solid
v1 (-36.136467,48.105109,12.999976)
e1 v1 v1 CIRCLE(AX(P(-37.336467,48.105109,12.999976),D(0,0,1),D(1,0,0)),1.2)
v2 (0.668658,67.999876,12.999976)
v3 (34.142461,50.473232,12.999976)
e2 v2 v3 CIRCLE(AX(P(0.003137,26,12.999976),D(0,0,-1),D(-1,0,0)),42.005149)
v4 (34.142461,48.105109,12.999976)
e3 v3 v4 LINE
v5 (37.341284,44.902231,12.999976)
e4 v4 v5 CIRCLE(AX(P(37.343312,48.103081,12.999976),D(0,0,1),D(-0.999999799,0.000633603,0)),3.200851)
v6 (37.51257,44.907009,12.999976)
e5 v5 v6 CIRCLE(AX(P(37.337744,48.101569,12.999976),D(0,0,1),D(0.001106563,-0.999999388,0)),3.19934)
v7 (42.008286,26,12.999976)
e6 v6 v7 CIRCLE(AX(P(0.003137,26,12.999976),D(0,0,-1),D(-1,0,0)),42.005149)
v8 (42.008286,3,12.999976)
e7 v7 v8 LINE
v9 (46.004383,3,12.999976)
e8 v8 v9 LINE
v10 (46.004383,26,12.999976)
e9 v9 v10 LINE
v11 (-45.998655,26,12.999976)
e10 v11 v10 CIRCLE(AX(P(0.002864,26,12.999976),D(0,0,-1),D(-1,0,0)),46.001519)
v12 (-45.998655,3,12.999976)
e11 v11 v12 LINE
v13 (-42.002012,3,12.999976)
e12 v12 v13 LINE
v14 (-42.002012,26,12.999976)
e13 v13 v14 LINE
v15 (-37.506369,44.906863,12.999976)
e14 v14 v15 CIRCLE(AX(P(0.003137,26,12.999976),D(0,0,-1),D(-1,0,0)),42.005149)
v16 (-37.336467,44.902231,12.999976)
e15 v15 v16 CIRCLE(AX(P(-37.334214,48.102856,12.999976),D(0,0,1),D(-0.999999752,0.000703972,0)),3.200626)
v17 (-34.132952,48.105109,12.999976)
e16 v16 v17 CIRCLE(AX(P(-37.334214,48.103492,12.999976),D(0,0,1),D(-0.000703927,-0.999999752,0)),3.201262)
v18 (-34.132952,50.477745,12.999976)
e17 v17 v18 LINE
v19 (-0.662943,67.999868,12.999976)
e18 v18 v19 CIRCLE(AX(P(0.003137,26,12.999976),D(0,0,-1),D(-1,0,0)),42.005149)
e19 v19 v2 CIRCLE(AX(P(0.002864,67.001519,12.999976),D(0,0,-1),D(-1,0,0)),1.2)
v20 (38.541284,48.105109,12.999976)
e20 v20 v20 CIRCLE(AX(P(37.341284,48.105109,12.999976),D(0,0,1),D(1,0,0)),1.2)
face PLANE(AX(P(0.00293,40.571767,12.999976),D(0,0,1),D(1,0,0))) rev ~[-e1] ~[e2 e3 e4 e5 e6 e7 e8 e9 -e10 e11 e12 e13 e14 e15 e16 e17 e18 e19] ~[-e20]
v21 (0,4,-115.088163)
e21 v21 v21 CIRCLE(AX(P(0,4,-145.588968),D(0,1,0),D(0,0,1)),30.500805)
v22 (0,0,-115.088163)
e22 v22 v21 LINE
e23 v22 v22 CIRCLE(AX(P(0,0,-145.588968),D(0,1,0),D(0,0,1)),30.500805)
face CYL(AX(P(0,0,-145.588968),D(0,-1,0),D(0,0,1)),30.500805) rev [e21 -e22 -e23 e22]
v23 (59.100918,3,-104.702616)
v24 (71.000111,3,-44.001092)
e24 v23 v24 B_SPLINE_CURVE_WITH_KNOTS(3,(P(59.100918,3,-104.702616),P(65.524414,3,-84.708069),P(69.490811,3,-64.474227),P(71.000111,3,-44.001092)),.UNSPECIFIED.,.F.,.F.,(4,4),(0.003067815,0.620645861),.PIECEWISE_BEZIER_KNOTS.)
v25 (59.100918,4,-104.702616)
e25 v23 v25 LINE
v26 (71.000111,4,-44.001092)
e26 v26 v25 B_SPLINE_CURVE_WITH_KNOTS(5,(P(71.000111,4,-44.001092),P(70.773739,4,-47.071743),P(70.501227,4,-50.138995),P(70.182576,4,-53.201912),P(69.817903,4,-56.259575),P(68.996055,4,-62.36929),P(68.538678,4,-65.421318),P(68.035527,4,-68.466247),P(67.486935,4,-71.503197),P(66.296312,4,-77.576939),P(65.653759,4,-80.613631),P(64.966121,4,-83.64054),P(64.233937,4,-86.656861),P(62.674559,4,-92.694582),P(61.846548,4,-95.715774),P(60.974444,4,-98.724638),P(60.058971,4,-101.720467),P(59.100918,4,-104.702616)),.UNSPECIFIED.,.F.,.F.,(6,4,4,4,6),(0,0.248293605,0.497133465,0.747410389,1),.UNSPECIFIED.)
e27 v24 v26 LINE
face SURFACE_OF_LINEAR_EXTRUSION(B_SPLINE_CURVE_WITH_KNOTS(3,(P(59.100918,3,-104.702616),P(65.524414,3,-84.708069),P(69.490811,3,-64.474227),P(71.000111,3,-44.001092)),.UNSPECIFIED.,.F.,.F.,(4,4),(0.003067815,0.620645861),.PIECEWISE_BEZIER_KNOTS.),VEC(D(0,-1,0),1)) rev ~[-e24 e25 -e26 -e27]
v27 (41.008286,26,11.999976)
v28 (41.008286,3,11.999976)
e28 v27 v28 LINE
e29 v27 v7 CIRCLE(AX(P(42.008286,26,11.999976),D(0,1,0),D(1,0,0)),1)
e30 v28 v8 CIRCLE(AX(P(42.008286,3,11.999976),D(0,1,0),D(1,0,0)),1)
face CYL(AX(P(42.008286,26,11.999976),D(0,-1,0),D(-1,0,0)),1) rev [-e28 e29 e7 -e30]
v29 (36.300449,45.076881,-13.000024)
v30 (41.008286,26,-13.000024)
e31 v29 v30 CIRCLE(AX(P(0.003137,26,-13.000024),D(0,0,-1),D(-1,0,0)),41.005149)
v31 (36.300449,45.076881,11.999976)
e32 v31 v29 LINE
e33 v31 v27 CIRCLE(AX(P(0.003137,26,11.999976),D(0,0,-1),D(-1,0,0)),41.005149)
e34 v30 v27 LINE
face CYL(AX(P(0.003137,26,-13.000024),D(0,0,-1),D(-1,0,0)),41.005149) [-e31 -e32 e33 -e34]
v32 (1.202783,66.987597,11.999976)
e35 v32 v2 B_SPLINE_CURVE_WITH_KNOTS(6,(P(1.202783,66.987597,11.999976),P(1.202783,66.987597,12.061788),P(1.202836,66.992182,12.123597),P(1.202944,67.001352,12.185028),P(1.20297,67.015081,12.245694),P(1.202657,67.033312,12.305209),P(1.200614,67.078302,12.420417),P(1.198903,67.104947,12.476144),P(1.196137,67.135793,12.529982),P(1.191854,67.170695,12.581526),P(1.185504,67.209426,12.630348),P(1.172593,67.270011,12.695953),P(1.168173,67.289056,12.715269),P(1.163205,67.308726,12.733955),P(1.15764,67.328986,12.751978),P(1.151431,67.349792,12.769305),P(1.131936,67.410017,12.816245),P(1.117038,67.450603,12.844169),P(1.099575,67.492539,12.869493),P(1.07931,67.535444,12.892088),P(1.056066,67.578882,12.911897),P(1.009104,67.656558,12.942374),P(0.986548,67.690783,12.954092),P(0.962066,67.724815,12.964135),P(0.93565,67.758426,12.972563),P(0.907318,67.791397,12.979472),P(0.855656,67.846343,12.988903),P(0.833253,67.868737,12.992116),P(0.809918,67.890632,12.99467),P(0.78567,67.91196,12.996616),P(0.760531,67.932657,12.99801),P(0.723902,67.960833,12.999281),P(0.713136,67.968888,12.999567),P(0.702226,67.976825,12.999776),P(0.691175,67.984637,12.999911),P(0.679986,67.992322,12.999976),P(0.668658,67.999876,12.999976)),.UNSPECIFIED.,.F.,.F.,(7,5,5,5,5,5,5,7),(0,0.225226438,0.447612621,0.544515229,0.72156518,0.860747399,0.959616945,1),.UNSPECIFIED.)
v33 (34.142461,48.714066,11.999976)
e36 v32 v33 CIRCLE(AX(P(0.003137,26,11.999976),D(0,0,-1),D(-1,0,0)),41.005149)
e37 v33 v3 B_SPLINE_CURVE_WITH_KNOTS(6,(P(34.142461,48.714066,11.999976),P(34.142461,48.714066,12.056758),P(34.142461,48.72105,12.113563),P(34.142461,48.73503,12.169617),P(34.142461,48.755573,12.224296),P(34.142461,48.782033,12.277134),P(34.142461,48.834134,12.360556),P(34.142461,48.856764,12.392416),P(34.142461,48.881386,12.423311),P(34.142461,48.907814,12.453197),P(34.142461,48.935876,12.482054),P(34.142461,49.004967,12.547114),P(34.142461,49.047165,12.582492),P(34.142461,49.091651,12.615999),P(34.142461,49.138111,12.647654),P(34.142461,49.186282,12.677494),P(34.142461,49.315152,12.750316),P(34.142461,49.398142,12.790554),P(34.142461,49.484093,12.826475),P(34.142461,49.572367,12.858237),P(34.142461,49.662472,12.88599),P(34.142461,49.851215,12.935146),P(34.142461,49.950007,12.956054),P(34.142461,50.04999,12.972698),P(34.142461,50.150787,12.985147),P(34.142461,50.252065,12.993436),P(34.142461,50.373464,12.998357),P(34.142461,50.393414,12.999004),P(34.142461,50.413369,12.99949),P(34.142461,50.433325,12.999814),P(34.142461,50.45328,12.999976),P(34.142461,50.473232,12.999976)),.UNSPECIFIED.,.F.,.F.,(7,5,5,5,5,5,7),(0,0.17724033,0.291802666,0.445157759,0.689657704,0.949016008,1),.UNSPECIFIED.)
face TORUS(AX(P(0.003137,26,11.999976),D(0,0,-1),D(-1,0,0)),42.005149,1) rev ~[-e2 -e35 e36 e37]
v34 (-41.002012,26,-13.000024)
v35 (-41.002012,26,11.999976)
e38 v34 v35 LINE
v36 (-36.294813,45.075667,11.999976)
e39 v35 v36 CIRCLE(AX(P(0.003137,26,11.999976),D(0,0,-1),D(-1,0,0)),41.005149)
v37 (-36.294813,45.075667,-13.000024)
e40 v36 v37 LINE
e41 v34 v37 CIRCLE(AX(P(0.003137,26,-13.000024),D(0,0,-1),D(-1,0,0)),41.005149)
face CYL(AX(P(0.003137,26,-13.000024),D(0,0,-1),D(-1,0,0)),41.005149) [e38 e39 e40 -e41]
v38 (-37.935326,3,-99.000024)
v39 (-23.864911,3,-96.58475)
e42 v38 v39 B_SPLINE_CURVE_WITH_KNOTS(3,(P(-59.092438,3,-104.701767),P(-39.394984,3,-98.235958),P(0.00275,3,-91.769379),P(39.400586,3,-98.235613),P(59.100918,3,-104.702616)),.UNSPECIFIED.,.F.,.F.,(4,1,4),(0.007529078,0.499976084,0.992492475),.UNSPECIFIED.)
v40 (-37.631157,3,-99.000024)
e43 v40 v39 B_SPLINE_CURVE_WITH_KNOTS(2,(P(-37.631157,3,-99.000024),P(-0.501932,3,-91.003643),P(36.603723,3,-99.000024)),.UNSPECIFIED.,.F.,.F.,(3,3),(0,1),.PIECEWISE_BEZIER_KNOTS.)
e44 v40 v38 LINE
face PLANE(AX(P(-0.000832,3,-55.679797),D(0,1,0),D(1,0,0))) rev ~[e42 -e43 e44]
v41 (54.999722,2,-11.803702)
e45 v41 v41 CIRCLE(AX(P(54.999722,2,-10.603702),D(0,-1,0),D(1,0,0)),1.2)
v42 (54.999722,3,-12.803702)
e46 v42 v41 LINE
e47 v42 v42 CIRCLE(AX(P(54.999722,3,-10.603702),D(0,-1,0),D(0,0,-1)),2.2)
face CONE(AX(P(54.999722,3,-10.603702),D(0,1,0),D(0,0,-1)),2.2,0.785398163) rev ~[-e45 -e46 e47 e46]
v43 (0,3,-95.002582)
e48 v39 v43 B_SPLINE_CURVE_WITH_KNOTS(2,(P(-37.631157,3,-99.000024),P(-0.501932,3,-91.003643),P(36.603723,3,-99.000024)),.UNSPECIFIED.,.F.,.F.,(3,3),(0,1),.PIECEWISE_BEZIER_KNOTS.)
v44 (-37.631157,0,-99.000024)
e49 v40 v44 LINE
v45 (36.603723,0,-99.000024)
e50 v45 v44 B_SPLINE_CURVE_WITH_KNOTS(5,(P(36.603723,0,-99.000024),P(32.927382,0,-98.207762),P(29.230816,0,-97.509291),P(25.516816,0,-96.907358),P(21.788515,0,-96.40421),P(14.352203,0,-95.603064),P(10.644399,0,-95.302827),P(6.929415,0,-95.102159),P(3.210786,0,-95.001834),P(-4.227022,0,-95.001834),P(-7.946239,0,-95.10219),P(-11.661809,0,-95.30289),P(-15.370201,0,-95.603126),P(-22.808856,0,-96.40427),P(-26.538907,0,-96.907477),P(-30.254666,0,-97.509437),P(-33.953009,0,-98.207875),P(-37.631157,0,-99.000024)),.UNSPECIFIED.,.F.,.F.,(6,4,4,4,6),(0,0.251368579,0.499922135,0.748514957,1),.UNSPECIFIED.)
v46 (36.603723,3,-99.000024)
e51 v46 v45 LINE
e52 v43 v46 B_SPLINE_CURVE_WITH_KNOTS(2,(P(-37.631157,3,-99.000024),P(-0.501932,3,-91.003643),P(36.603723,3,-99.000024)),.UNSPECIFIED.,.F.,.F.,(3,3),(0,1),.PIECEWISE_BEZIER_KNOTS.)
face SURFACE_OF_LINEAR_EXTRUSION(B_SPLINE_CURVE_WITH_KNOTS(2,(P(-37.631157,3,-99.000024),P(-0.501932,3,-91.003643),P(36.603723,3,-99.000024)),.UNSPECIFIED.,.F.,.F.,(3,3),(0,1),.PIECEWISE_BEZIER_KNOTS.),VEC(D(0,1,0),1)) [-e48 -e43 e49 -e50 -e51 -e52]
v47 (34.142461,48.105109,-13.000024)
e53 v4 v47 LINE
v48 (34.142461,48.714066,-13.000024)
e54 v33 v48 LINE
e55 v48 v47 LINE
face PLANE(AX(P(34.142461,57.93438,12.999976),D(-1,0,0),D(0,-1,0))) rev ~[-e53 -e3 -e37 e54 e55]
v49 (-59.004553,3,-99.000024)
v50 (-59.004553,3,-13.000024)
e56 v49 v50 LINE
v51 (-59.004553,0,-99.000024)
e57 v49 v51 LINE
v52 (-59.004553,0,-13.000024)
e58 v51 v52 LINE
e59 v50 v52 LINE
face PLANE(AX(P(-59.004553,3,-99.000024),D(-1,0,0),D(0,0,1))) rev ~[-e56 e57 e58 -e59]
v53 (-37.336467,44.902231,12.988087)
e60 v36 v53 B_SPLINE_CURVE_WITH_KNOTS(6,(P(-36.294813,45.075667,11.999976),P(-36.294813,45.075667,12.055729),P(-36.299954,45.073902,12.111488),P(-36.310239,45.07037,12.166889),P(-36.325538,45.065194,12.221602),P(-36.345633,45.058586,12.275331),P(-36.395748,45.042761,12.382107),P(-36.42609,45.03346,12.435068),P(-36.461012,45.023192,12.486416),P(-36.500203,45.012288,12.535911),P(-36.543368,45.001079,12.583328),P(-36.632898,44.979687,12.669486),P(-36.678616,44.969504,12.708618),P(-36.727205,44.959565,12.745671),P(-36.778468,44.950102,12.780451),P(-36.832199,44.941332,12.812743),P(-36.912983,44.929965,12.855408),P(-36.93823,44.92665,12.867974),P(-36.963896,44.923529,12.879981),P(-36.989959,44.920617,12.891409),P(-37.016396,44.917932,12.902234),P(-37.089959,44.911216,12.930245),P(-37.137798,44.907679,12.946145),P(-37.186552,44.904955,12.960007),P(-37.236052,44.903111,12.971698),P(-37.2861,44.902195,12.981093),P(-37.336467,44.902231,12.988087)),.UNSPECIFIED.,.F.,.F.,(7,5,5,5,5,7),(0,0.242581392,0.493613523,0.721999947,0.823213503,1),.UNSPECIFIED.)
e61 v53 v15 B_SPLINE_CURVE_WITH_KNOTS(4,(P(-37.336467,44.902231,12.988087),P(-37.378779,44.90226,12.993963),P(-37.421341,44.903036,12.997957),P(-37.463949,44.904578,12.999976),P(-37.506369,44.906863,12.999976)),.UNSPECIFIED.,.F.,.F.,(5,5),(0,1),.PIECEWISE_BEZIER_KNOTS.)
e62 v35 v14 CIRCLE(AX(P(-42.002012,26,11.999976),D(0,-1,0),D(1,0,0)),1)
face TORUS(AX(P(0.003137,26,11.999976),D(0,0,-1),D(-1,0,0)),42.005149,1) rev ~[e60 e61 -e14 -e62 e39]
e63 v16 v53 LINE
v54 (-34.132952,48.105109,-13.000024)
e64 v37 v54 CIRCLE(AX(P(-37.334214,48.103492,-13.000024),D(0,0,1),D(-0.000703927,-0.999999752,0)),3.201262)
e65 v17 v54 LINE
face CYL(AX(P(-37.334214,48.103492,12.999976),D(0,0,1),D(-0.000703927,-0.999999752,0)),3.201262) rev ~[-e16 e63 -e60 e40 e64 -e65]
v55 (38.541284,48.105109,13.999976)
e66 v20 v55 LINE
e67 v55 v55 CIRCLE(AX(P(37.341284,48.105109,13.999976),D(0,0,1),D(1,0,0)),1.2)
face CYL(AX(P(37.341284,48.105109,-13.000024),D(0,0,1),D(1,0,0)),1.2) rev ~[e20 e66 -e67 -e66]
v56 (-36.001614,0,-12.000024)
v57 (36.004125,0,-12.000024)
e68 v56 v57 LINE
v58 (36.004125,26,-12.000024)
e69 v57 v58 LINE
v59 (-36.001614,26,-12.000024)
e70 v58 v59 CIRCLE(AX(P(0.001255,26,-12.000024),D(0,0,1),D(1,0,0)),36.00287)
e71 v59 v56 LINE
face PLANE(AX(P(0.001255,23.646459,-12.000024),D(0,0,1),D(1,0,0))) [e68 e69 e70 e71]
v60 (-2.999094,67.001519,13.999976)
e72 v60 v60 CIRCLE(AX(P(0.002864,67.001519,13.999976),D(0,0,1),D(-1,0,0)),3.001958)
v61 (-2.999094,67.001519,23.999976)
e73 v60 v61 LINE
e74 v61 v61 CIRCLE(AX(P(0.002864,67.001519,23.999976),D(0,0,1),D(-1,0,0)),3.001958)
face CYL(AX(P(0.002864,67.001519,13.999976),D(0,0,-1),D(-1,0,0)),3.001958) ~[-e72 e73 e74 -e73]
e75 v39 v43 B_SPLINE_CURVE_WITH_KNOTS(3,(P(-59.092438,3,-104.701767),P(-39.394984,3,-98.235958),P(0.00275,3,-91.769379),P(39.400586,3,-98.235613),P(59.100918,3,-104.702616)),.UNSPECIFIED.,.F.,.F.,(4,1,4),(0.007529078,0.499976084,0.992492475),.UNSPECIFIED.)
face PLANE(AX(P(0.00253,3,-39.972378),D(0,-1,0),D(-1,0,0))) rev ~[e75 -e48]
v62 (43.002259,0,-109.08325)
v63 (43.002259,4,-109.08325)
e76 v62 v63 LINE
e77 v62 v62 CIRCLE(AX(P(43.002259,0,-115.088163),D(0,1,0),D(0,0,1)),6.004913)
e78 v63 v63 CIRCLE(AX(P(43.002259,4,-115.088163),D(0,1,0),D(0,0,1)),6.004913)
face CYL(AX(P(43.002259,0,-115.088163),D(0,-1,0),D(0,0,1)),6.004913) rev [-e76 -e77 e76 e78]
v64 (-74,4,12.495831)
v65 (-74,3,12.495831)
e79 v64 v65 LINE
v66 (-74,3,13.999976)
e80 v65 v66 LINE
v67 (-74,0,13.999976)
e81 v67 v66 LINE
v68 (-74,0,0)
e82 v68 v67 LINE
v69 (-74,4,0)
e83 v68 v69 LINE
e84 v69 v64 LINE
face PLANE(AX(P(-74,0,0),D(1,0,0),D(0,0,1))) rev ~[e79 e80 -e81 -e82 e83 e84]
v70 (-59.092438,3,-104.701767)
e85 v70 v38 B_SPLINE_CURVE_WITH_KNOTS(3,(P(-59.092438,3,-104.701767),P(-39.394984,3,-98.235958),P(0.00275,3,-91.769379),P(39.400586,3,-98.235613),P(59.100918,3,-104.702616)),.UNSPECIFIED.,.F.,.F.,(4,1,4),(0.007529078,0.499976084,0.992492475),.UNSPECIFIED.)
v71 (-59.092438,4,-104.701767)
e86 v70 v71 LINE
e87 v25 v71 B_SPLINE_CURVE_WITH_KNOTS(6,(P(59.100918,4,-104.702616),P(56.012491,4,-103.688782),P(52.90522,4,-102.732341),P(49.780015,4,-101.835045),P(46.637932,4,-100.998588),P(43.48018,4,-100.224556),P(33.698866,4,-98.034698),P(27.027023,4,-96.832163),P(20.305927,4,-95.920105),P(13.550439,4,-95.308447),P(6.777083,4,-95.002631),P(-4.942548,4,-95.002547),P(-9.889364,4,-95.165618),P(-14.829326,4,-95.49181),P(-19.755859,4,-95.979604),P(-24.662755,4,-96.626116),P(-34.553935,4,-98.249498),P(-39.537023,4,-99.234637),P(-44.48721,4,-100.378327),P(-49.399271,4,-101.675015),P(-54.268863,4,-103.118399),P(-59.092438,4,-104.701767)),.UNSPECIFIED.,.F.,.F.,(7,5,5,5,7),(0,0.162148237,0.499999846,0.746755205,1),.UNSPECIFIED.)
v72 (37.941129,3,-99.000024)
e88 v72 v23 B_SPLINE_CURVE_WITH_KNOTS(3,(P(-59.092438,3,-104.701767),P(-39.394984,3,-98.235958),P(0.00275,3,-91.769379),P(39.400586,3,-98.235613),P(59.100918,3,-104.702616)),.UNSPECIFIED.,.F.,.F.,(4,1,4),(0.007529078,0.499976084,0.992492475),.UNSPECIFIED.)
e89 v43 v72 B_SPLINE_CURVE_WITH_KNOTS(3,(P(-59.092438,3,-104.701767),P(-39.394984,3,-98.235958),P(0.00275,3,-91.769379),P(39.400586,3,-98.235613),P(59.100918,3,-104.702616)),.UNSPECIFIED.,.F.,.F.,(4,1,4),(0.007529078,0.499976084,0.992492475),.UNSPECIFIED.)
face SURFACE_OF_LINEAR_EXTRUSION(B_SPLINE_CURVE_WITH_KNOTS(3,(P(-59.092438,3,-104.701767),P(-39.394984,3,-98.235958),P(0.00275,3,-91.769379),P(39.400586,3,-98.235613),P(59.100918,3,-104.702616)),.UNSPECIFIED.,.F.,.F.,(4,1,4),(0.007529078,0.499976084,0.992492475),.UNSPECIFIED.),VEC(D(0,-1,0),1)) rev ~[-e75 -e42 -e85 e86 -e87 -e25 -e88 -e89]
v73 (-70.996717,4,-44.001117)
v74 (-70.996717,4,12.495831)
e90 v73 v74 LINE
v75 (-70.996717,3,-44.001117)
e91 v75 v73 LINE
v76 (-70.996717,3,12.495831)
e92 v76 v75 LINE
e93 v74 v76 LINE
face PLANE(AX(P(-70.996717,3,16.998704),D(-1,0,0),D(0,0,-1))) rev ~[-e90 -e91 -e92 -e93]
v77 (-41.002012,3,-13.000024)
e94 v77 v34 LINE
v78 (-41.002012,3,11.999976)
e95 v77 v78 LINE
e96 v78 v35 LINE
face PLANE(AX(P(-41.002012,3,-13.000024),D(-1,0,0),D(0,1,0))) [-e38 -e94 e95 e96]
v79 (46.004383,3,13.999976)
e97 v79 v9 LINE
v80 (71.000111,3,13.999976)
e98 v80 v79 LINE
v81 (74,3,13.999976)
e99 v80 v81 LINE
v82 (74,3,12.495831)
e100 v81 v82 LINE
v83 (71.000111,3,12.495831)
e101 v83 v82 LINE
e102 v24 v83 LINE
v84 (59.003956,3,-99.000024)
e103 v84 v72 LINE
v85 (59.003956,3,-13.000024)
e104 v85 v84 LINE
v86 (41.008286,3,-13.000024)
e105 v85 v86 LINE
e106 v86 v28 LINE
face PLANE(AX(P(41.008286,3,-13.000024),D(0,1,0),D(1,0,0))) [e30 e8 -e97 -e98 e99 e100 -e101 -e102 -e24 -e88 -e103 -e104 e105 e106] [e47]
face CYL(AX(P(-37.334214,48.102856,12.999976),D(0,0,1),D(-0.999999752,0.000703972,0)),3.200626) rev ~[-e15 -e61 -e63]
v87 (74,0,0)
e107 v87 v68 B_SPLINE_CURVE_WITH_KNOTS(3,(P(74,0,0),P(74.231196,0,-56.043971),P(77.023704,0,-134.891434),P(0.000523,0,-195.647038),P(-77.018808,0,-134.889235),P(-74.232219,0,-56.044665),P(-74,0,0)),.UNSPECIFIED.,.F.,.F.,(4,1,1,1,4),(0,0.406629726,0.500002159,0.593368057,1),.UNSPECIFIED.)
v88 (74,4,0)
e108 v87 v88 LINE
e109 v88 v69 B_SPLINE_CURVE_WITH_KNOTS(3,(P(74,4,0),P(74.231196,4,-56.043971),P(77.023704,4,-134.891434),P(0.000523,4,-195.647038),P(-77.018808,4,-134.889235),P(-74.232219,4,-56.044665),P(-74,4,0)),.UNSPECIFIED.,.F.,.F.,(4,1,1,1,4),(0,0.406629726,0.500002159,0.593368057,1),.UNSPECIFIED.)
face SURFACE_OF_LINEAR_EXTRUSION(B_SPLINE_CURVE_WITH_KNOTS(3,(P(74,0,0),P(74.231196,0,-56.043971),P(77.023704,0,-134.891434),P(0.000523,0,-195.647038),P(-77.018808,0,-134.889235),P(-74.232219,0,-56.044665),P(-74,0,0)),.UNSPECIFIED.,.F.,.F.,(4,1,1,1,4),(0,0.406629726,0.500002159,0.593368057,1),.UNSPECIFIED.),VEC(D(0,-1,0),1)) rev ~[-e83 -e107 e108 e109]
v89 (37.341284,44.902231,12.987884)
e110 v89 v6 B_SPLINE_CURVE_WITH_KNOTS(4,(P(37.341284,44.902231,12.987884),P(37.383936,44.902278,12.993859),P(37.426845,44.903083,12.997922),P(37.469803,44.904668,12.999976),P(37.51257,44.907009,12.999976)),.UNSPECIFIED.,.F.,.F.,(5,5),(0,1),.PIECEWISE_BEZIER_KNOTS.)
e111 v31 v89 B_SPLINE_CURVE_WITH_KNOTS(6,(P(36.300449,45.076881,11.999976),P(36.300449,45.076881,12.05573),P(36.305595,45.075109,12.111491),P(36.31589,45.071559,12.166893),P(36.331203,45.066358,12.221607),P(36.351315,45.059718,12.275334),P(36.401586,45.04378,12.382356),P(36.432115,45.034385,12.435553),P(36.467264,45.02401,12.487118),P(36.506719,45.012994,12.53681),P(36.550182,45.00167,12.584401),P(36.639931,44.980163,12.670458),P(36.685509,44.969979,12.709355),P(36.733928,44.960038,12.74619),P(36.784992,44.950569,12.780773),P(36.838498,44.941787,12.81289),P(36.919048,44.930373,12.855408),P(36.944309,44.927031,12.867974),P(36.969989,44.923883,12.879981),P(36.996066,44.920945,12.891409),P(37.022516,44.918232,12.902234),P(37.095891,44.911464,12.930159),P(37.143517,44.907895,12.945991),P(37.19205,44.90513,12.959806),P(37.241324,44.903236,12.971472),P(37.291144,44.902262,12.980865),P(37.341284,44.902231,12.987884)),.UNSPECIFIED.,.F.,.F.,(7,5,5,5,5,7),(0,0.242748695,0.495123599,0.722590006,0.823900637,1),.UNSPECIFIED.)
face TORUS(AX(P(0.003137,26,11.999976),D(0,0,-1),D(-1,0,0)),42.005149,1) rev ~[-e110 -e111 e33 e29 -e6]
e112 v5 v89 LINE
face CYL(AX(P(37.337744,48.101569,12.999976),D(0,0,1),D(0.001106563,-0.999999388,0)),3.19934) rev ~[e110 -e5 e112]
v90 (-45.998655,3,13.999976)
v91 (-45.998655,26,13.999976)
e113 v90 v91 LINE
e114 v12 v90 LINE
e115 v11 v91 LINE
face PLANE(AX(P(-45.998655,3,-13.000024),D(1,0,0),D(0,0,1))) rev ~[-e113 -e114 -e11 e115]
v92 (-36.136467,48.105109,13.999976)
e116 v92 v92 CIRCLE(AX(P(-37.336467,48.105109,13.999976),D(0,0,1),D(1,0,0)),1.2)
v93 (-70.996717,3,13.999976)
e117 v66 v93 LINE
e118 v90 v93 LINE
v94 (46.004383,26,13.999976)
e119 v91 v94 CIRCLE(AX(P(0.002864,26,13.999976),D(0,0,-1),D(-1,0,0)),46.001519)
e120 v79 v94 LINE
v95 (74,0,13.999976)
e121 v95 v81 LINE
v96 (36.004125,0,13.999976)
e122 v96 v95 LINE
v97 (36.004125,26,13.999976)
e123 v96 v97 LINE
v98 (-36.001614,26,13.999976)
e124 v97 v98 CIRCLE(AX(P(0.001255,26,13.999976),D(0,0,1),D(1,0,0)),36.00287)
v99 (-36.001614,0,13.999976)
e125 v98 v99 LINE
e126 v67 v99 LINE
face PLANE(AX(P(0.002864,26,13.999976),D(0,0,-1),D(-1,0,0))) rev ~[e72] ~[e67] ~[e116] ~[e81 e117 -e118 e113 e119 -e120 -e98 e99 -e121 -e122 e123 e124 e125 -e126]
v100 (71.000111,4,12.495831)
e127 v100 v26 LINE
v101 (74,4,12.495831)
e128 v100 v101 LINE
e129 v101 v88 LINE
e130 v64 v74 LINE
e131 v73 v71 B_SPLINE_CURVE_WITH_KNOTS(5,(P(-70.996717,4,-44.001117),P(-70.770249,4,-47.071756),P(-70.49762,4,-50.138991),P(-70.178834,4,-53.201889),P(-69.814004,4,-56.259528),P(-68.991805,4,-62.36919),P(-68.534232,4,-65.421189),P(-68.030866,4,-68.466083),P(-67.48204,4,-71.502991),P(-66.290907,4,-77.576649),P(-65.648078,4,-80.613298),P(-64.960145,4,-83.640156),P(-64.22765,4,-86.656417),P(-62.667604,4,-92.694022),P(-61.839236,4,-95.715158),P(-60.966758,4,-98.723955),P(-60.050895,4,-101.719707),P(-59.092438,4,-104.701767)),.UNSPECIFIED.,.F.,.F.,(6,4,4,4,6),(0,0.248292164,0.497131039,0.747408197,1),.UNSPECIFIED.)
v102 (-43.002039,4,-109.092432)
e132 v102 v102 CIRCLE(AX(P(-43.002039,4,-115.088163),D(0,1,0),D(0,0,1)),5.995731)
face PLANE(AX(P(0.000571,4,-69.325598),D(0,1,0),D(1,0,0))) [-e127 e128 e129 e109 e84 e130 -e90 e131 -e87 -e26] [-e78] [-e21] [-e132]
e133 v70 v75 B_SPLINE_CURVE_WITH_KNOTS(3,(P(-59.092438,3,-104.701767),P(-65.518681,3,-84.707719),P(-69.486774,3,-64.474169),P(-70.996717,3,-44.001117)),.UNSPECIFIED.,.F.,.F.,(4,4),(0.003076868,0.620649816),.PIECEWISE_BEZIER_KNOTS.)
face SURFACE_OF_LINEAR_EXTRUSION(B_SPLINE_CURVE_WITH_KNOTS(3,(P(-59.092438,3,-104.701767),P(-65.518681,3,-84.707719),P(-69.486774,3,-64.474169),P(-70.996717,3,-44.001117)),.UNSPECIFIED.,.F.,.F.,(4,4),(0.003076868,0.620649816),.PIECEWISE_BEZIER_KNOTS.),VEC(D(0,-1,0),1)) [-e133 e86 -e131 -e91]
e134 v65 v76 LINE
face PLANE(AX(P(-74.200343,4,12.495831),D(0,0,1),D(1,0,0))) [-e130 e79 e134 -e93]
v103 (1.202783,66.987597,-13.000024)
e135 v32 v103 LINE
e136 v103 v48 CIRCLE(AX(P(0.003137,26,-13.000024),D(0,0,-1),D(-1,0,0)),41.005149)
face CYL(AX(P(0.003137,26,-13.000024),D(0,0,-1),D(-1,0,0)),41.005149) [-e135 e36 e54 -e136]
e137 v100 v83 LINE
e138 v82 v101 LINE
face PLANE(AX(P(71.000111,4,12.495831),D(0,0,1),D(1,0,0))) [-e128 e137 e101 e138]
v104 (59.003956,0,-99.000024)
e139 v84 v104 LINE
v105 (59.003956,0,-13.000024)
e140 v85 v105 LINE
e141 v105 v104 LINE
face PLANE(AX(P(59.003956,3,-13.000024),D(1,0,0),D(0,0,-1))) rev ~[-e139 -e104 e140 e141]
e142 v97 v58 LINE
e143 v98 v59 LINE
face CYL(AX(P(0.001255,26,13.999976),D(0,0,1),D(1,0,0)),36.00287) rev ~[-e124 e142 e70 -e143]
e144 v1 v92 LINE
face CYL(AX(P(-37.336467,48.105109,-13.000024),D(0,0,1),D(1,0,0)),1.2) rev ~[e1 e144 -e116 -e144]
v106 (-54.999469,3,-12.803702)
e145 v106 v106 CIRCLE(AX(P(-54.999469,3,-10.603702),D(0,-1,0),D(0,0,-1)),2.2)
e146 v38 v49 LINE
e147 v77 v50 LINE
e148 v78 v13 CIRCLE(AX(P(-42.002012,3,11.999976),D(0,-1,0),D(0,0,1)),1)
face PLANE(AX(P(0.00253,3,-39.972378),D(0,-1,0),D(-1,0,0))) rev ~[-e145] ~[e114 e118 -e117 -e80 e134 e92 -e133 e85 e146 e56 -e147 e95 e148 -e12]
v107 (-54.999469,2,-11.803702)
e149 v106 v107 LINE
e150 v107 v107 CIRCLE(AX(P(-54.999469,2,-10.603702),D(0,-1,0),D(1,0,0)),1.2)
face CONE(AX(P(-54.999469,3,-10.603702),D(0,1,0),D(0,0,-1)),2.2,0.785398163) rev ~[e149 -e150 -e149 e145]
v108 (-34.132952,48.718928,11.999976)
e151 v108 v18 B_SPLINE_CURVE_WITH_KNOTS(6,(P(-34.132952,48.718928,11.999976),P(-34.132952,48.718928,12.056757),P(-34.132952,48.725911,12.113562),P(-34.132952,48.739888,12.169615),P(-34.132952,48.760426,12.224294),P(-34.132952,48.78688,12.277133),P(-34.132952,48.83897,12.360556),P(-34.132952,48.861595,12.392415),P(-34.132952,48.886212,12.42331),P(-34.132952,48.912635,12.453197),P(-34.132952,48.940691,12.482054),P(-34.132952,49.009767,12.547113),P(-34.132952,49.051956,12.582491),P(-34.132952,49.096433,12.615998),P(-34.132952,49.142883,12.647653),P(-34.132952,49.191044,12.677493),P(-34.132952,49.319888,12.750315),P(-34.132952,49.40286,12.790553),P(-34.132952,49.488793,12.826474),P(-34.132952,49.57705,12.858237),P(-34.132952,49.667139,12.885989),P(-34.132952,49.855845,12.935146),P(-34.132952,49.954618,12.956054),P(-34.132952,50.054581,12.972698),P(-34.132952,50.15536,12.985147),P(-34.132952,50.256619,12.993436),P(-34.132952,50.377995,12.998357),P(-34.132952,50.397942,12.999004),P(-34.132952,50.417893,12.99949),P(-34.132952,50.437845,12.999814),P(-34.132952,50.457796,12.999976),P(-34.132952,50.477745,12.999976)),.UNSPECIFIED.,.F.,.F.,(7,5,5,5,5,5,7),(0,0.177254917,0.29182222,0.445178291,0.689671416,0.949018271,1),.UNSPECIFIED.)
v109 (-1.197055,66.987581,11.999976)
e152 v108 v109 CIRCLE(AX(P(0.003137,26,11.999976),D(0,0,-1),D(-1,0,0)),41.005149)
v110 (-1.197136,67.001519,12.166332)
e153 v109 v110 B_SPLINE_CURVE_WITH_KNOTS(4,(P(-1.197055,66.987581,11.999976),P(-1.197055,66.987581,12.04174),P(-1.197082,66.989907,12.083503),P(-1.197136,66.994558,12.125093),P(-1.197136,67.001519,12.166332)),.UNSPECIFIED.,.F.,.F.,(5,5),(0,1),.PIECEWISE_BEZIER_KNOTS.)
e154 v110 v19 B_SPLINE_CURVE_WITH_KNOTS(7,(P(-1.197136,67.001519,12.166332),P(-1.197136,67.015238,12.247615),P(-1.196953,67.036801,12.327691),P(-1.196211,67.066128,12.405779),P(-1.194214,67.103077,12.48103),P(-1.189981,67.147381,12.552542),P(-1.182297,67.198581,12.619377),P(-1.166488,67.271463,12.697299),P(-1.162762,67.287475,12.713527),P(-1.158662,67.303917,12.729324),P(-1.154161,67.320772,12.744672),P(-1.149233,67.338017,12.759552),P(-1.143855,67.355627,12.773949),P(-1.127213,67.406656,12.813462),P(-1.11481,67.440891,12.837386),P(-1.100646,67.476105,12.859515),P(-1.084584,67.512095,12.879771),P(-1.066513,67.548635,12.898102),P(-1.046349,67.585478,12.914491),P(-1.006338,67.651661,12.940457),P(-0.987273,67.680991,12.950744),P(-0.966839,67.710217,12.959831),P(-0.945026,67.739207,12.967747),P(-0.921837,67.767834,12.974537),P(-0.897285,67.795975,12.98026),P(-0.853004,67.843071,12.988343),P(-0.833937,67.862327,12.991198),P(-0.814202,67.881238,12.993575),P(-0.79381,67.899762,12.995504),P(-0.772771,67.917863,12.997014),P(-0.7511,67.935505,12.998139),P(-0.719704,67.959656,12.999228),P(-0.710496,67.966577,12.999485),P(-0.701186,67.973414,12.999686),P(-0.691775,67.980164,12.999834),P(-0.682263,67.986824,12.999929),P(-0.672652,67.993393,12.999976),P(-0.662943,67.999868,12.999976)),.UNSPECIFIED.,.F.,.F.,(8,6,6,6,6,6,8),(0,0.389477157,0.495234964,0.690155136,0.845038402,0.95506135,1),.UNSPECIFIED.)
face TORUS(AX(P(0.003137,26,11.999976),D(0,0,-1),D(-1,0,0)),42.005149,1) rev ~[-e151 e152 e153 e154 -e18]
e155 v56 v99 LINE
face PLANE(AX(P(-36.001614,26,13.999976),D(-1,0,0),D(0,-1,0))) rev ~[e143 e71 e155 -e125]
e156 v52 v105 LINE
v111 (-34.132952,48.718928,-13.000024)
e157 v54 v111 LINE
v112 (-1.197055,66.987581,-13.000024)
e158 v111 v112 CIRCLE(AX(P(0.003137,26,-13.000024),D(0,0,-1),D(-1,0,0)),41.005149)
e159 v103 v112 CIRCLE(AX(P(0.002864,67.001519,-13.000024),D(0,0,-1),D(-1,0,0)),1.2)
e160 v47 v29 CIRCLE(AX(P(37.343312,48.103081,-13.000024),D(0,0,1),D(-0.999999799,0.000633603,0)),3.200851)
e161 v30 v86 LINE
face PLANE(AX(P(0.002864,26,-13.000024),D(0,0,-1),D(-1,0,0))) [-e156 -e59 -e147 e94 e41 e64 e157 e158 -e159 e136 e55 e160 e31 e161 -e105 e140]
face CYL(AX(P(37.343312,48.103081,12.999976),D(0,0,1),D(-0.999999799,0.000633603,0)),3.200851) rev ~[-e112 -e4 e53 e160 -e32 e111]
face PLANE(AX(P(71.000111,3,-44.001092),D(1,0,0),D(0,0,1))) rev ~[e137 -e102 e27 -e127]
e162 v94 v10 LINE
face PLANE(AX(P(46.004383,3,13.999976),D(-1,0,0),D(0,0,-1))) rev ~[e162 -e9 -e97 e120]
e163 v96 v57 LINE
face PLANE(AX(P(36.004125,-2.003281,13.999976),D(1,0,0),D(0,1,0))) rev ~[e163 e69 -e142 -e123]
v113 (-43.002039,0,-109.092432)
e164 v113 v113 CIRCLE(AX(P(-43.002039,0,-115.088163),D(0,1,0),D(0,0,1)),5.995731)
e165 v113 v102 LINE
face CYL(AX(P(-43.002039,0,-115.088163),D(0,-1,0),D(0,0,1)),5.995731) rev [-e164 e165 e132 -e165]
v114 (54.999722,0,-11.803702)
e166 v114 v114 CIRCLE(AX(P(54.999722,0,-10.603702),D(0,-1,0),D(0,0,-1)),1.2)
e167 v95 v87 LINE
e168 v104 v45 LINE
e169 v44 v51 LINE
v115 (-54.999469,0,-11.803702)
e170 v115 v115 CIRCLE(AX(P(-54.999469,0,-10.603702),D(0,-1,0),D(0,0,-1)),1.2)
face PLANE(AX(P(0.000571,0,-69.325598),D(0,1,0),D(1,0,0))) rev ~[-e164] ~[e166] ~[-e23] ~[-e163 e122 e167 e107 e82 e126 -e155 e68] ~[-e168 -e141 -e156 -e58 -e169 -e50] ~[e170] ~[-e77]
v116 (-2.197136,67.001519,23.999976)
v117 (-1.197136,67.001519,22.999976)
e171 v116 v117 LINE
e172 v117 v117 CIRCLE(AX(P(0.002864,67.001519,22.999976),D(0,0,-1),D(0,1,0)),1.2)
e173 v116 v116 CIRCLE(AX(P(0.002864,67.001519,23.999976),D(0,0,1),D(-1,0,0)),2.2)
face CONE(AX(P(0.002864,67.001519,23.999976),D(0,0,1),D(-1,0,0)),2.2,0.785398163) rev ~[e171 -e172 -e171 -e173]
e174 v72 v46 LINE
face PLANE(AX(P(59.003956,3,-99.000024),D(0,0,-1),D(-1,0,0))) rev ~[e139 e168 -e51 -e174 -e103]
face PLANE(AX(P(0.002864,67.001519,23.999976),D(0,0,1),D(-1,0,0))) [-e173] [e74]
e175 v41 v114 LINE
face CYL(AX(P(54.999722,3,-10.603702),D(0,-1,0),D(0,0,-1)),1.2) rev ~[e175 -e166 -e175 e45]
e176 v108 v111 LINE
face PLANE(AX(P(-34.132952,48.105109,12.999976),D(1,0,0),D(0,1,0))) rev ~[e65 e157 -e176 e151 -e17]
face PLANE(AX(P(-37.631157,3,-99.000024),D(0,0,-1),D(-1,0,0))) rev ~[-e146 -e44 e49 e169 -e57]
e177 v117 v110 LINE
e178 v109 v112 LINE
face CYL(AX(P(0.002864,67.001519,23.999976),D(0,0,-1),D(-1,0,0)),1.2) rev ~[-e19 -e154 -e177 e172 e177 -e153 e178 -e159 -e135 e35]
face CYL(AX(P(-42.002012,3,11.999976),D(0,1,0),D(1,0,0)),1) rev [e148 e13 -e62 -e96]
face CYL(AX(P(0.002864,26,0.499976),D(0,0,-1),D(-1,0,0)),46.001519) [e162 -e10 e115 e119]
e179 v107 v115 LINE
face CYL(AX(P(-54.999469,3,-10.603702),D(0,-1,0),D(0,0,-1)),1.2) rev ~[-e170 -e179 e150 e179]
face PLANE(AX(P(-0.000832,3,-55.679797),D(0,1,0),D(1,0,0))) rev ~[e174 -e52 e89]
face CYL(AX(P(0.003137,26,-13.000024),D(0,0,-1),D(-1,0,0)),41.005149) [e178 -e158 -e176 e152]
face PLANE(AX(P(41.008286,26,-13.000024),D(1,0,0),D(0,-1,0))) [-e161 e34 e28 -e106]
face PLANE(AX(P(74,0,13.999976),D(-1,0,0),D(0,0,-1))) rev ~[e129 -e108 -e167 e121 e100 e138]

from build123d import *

# Parameters (mm, degrees)
SKETCH3_R                                            = 30.500804908
SKETCH3_R_2                                          = 5.995731032
SKETCH3_R_3                                          = 6.004912971
BOSS_EXTRUDE1_DEPTH                                  = 4
CUT_EXTRUDE1_DEPTH                                   = 201.334085664
CUT_EXTRUDE1_DEPTH_BACK                              = 1
CUT_EXTRUDE2_DEPTH                                   = 10
BOSS_EXTRUDE2_DEPTH                                  = 23
SKETCH8_W                                            = 46.001518713
SKETCH8_H                                            = 27
REVOLVE1_ANGLE                                       = 180
CUT_EXTRUDE3_DEPTH                                   = 26
FILLET1_R                                            = 1
CSK_FOR_M2_COUNTERSUNK_RAISED_HEAD_SCREW_D           = 2.4
CSK_FOR_M2_COUNTERSUNK_RAISED_HEAD_SCREW_CSINK_D     = 4.4
CSK_FOR_M2_COUNTERSUNK_RAISED_HEAD_SCREW_CSINK_ANGLE = 90
CSK_FOR_M2_COUNTERSUNK_RAISED_HEAD_S_2_D             = 2.4
CSK_FOR_M2_COUNTERSUNK_RAISED_HEAD_S_2_CSINK_D       = 4.4
CSK_FOR_M2_COUNTERSUNK_RAISED_HEAD_S_2_CSINK_ANGLE   = 90
CUT_EXTRUDE4_DEPTH                                   = 26
CUT_EXTRUDE6_DEPTH                                   = 26
CSK_FOR_M2_COUNTERSUNK_RAISED_HEAD_S_3_D             = 2.4
CSK_FOR_M2_COUNTERSUNK_RAISED_HEAD_S_3_CSINK_D       = 4.4
CSK_FOR_M2_COUNTERSUNK_RAISED_HEAD_S_3_CSINK_ANGLE   = 90
SKETCH21_W                                           = 3.203626312
SKETCH21_H                                           = 1.504144349
SKETCH21_W_2                                         = 3.379717773
CUT_EXTRUDE7_DEPTH                                   = 1
SKETCH26_R                                           = 3.001958304
BOSS_EXTRUDE4_DEPTH                                  = 10
CSK_FOR_M2_COUNTERSUNK_FLAT_HEAD_SCREW1_D            = 2.4
CSK_FOR_M2_COUNTERSUNK_FLAT_HEAD_SCREW1_CSINK_D      = 4.4
CSK_FOR_M2_COUNTERSUNK_FLAT_HEAD_SCREW1_CSINK_ANGLE  = 90


with BuildPart() as part:
    # Sketch3 → Boss-Extrude1 (new body)
    with BuildSketch(Plane(origin=(0, 0, 0), x_dir=(1, 0, 0), z_dir=(0, 1, 0))):
        with BuildLine():
            Line((-74, 0), (-74, -13.999975782))
            Line((-74, -13.999975782), (74, -13.999975782))
            Line((74, -13.999975782), (74, 0))
            add(Edge.make_bspline(
                [(74, 0), (74.231196296, 56.043971303), (77.023704063, 134.891433867), (0.000522637, 195.647038294), (-77.018807985, 134.889235124), (-74.23221909, 56.044664754), (-74, 0)],
                knots=[0, 0, 0, 0, 0.406629726, 0.500002159, 0.593368057, 1, 1, 1, 1], degree=3))
        make_face()
        with Locations(Location((0, 145.588967501, 0), (0, 0, 270))):
            Circle(SKETCH3_R, mode=Mode.SUBTRACT)
        with Locations(Location((-43.002039148, 115.088162593, 0), (0, 0, 270))):
            Circle(SKETCH3_R_2, mode=Mode.SUBTRACT)
        with Locations(Location((43.002259074, 115.088162593, 0), (0, 0, 270))):
            Circle(SKETCH3_R_3, mode=Mode.SUBTRACT)
    extrude(amount=BOSS_EXTRUDE1_DEPTH)

    # Sketch4 → Cut-Extrude1 (cut, two sides: drawn at the far end of the back side and taken through both)
    with BuildSketch(Plane(origin=(0, 4, 0), x_dir=(1, 0, 0), z_dir=(0, 1, 0)).offset(-CUT_EXTRUDE1_DEPTH_BACK)):
        with BuildLine():
            Line((71.000110633, 44.001091932), (71.000110633, 6.067137952))
            Line((71.000110633, 6.067137952), (71.000110633, 5.938211201))
            Line((71.000110633, 5.938211201), (71.000110633, -16.998704323))
            Line((71.000110633, -16.998704323), (-70.996716676, -16.998704323))
            Line((-70.996716676, -16.998704323), (-70.996716676, 6.002699648))
            Line((-70.996716676, 6.002699648), (-70.996716676, 44.001117001))
            add(Edge.make_bspline(
                [(-59.092437552, 104.701767127), (-65.518680916, 84.707719391), (-69.486773958, 64.474169348), (-70.996716676, 44.001117001)],
                knots=[0.003076868, 0.003076868, 0.003076868, 0.003076868, 0.620649816, 0.620649816, 0.620649816, 0.620649816], degree=3))
            add(Edge.make_bspline(
                [(-59.092437552, 104.701767127), (-39.394984135, 98.235957793), (0.002749603, 91.769378921), (39.400586429, 98.235612751), (59.100918302, 104.702616137)],
                knots=[0.007529078, 0.007529078, 0.007529078, 0.007529078, 0.499976084, 0.992492475, 0.992492475, 0.992492475, 0.992492475], degree=3))
            add(Edge.make_bspline(
                [(59.100918302, 104.702616137), (65.524413648, 84.70806856), (69.490811091, 64.474227159), (71.000110633, 44.001091932)],
                knots=[0.003067815, 0.003067815, 0.003067815, 0.003067815, 0.620645861, 0.620645861, 0.620645861, 0.620645861], degree=3))
        make_face()
    extrude(amount=CUT_EXTRUDE1_DEPTH + CUT_EXTRUDE1_DEPTH_BACK, mode=Mode.SUBTRACT)

    # Sketch5 → Cut-Extrude2 (cut)
    with BuildSketch(Plane(origin=(0, 3, 0), x_dir=(1, 0, 0), z_dir=(0, 1, 0))):
        with BuildLine():
            Line((-37.63115667, 99.000024218), (-59.004553183, 99.000024218))
            Line((-59.004553183, 99.000024218), (-59.004553183, 13.000024218))
            Line((-59.004553183, 13.000024218), (59.003956031, 13.000024218))
            Line((59.003956031, 13.000024218), (59.003956031, 99.000024218))
            Line((59.003956031, 99.000024218), (36.603722574, 99.000024218))
            add(Edge.make_bspline(
                [(-37.63115667, 99.000024218), (-0.501932399, 91.00364322), (36.603722574, 99.000024218)],
                knots=[0, 0, 0, 1, 1, 1], degree=2))
        make_face()
    extrude(amount=-CUT_EXTRUDE2_DEPTH, mode=Mode.SUBTRACT)

    # Sketch7 → Boss-Extrude2 (add)
    with BuildSketch(Plane(origin=(0, 3, 0), x_dir=(1, 0, 0), z_dir=(0, 1, 0))):
        Polygon((-0.000298576, 13.000024218), (-45.998654577, 13.000024218), (-45.998654577, -13.999975782), (0.001696979, -13.999975782), (46.00438285, -13.999975782), (46.00438285, 13.000024218), align=None)
    extrude(amount=BOSS_EXTRUDE2_DEPTH)

    # Sketch8 → Revolve1 (revolve)
    with BuildSketch(Plane(origin=(0, 26, 0), x_dir=(1, 0, 0), z_dir=(0, 1, 0))):
        with Locations((-22.997895221, -0.499975782)):
            Rectangle(SKETCH8_W, SKETCH8_H)
    revolve(axis=Axis((0.002864136, 26, -13.000024218), (0, 0, -1)), revolution_arc=REVOLVE1_ANGLE)

    # Sketch9 → Cut-Extrude3 (cut)
    with BuildSketch(Plane(origin=(0, 0, -13.000024218), x_dir=(-1, 0, 0), z_dir=(0, 0, -1))):
        with BuildLine():
            Line((-46.00438285, 4), (-46.00438285, 26))
            ThreePointArc((-46.00438285, 26), (-0.002864136, 72.001518714), (45.998654577, 26))
            Line((45.998654577, 26), (45.998654577, 4))
            Line((45.998654577, 4), (45.998654577, 3))
            Line((45.998654577, 3), (41.002011799, 3))
            Line((41.002011799, 3), (41.002011799, 4))
            Line((41.002011799, 4), (41.002011799, 26))
            ThreePointArc((41.002011799, 26), (-0.003137153, 67.005148952), (-41.008286105, 26))
            Line((-41.008286105, 26), (-41.008286105, 4))
            Line((-41.008286105, 4), (-41.008286105, 3))
            Line((-41.008286105, 3), (-46.00438285, 3))
            Line((-46.00438285, 3), (-46.00438285, 4))
        make_face()
    extrude(amount=-CUT_EXTRUDE3_DEPTH, mode=Mode.SUBTRACT)

    # Fillet1
    fillet1_edges = [part.edges().sort_by_distance(p)[0] for p in [
        (41.008286105, 14.5, 12.999975782),
        (0.003137153, 67.005148952, 12.999975782),
        (-41.002011799, 14.5, 12.999975782),
    ]]
    fillet(fillet1_edges, radius=FILLET1_R)

    # CSK for M2 Countersunk Raised Head Screw (through all)
    with Locations(Plane(origin=(37.341283937, 48.105109247, -13.000024218), x_dir=(-1, 0, 0), z_dir=(0, 0, -1))):
        with Locations((0, 0)):
            CounterSinkHole(CSK_FOR_M2_COUNTERSUNK_RAISED_HEAD_SCREW_D / 2, CSK_FOR_M2_COUNTERSUNK_RAISED_HEAD_SCREW_CSINK_D / 2, counter_sink_angle=CSK_FOR_M2_COUNTERSUNK_RAISED_HEAD_SCREW_CSINK_ANGLE)

    # CSK for M2 Countersunk Raised Head S 2 (through all)
    with Locations(Plane(origin=(-37.336467168, 48.105109247, -13.000024218), x_dir=(-1, 0, 0), z_dir=(0, 0, -1))):
        with Locations((0, 0)):
            CounterSinkHole(CSK_FOR_M2_COUNTERSUNK_RAISED_HEAD_S_2_D / 2, CSK_FOR_M2_COUNTERSUNK_RAISED_HEAD_S_2_CSINK_D / 2, counter_sink_angle=CSK_FOR_M2_COUNTERSUNK_RAISED_HEAD_S_2_CSINK_ANGLE)

    # Sketch13 → Cut-Extrude4 (cut)
    with BuildSketch(Plane(origin=(0, 0, 12.999975782), x_dir=(-1, 0, 0), z_dir=(0, 0, -1))):
        with BuildLine():
            Line((-40.537082061, 48.105109247), (-40.537082061, 50.119729722))
            Line((-40.537082061, 50.119729722), (-34.142461411, 57.934379624))
            Line((-34.142461411, 57.934379624), (-34.142461411, 48.105109247))
            ThreePointArc((-34.142461411, 48.105109247), (-35.078534783, 45.841172076), (-37.341283937, 44.902230579))
            ThreePointArc((-37.341283937, 44.902230579), (-39.602520891, 45.84179845), (-40.537082061, 48.105109247))
        make_face()
        with BuildLine():
            Line((34.132951582, 48.105109247), (34.132951582, 58.567156979))
            Line((34.132951582, 58.567156979), (40.534839533, 50.980581359))
            Line((40.534839533, 50.980581359), (40.534839533, 48.105109247))
            ThreePointArc((40.534839533, 48.105109247), (39.59899119, 45.841265256), (37.336467022, 44.902230579))
            ThreePointArc((37.336467022, 44.902230579), (35.070804229, 45.839632847), (34.132951582, 48.105109247))
        make_face()
    extrude(amount=CUT_EXTRUDE4_DEPTH, mode=Mode.SUBTRACT)

    # Sketch14 → Cut-Extrude6 (cut)
    with BuildSketch(Plane.XY.offset(13.999975782)):
        with BuildLine():
            Line((-36.001614282, 3), (-36.001614282, -2.003280718))
            Line((-36.001614282, -2.003280718), (36.004124987, -2.003280718))
            Line((36.004124987, -2.003280718), (36.004124987, 3))
            Line((36.004124987, 3), (36.004124987, 26))
            ThreePointArc((36.004124987, 26), (0.001255352, 62.002869635), (-36.001614282, 26))
            Line((-36.001614282, 26), (-36.001614282, 3))
        make_face()
    extrude(amount=-CUT_EXTRUDE6_DEPTH, mode=Mode.SUBTRACT)

    # CSK for M2 Countersunk Raised Head S 3 (through all)
    with Locations(Plane(origin=(-54.999469482, 3, -10.603702266), x_dir=(0, 0, 1), z_dir=(0, 1, 0))):
        with Locations((0, 0), (0, 109.999191574)):
            CounterSinkHole(CSK_FOR_M2_COUNTERSUNK_RAISED_HEAD_S_3_D / 2, CSK_FOR_M2_COUNTERSUNK_RAISED_HEAD_S_3_CSINK_D / 2, counter_sink_angle=CSK_FOR_M2_COUNTERSUNK_RAISED_HEAD_S_3_CSINK_ANGLE)

    # Sketch21 → Cut-Extrude7 (cut)
    with BuildSketch(Plane(origin=(0, 4, 0), x_dir=(1, 0, 0), z_dir=(0, 1, 0))):
        with Locations((-72.598529832, -13.247903608)):
            Rectangle(SKETCH21_W, SKETCH21_H)
        with Locations((72.68996952, -13.247903608)):
            Rectangle(SKETCH21_W_2, SKETCH21_H)
    extrude(amount=-CUT_EXTRUDE7_DEPTH, mode=Mode.SUBTRACT)

    # Sketch26 → Boss-Extrude4 (add)
    with BuildSketch(Plane.XY.offset(13.999975782)):
        with Locations(Location((0.002864136, 67.001518714, 0), (0, 0, 180))):
            Circle(SKETCH26_R)
    extrude(amount=BOSS_EXTRUDE4_DEPTH)

    # CSK for M2 Countersunk Flat Head Screw1 (through all)
    with Locations(Plane.XY.offset(23.999975782)):
        with Locations((0.002864136, 67.001518714)):
            CounterSinkHole(CSK_FOR_M2_COUNTERSUNK_FLAT_HEAD_SCREW1_D / 2, CSK_FOR_M2_COUNTERSUNK_FLAT_HEAD_SCREW1_CSINK_D / 2, counter_sink_angle=CSK_FOR_M2_COUNTERSUNK_FLAT_HEAD_SCREW1_CSINK_ANGLE)


solid = part.part
